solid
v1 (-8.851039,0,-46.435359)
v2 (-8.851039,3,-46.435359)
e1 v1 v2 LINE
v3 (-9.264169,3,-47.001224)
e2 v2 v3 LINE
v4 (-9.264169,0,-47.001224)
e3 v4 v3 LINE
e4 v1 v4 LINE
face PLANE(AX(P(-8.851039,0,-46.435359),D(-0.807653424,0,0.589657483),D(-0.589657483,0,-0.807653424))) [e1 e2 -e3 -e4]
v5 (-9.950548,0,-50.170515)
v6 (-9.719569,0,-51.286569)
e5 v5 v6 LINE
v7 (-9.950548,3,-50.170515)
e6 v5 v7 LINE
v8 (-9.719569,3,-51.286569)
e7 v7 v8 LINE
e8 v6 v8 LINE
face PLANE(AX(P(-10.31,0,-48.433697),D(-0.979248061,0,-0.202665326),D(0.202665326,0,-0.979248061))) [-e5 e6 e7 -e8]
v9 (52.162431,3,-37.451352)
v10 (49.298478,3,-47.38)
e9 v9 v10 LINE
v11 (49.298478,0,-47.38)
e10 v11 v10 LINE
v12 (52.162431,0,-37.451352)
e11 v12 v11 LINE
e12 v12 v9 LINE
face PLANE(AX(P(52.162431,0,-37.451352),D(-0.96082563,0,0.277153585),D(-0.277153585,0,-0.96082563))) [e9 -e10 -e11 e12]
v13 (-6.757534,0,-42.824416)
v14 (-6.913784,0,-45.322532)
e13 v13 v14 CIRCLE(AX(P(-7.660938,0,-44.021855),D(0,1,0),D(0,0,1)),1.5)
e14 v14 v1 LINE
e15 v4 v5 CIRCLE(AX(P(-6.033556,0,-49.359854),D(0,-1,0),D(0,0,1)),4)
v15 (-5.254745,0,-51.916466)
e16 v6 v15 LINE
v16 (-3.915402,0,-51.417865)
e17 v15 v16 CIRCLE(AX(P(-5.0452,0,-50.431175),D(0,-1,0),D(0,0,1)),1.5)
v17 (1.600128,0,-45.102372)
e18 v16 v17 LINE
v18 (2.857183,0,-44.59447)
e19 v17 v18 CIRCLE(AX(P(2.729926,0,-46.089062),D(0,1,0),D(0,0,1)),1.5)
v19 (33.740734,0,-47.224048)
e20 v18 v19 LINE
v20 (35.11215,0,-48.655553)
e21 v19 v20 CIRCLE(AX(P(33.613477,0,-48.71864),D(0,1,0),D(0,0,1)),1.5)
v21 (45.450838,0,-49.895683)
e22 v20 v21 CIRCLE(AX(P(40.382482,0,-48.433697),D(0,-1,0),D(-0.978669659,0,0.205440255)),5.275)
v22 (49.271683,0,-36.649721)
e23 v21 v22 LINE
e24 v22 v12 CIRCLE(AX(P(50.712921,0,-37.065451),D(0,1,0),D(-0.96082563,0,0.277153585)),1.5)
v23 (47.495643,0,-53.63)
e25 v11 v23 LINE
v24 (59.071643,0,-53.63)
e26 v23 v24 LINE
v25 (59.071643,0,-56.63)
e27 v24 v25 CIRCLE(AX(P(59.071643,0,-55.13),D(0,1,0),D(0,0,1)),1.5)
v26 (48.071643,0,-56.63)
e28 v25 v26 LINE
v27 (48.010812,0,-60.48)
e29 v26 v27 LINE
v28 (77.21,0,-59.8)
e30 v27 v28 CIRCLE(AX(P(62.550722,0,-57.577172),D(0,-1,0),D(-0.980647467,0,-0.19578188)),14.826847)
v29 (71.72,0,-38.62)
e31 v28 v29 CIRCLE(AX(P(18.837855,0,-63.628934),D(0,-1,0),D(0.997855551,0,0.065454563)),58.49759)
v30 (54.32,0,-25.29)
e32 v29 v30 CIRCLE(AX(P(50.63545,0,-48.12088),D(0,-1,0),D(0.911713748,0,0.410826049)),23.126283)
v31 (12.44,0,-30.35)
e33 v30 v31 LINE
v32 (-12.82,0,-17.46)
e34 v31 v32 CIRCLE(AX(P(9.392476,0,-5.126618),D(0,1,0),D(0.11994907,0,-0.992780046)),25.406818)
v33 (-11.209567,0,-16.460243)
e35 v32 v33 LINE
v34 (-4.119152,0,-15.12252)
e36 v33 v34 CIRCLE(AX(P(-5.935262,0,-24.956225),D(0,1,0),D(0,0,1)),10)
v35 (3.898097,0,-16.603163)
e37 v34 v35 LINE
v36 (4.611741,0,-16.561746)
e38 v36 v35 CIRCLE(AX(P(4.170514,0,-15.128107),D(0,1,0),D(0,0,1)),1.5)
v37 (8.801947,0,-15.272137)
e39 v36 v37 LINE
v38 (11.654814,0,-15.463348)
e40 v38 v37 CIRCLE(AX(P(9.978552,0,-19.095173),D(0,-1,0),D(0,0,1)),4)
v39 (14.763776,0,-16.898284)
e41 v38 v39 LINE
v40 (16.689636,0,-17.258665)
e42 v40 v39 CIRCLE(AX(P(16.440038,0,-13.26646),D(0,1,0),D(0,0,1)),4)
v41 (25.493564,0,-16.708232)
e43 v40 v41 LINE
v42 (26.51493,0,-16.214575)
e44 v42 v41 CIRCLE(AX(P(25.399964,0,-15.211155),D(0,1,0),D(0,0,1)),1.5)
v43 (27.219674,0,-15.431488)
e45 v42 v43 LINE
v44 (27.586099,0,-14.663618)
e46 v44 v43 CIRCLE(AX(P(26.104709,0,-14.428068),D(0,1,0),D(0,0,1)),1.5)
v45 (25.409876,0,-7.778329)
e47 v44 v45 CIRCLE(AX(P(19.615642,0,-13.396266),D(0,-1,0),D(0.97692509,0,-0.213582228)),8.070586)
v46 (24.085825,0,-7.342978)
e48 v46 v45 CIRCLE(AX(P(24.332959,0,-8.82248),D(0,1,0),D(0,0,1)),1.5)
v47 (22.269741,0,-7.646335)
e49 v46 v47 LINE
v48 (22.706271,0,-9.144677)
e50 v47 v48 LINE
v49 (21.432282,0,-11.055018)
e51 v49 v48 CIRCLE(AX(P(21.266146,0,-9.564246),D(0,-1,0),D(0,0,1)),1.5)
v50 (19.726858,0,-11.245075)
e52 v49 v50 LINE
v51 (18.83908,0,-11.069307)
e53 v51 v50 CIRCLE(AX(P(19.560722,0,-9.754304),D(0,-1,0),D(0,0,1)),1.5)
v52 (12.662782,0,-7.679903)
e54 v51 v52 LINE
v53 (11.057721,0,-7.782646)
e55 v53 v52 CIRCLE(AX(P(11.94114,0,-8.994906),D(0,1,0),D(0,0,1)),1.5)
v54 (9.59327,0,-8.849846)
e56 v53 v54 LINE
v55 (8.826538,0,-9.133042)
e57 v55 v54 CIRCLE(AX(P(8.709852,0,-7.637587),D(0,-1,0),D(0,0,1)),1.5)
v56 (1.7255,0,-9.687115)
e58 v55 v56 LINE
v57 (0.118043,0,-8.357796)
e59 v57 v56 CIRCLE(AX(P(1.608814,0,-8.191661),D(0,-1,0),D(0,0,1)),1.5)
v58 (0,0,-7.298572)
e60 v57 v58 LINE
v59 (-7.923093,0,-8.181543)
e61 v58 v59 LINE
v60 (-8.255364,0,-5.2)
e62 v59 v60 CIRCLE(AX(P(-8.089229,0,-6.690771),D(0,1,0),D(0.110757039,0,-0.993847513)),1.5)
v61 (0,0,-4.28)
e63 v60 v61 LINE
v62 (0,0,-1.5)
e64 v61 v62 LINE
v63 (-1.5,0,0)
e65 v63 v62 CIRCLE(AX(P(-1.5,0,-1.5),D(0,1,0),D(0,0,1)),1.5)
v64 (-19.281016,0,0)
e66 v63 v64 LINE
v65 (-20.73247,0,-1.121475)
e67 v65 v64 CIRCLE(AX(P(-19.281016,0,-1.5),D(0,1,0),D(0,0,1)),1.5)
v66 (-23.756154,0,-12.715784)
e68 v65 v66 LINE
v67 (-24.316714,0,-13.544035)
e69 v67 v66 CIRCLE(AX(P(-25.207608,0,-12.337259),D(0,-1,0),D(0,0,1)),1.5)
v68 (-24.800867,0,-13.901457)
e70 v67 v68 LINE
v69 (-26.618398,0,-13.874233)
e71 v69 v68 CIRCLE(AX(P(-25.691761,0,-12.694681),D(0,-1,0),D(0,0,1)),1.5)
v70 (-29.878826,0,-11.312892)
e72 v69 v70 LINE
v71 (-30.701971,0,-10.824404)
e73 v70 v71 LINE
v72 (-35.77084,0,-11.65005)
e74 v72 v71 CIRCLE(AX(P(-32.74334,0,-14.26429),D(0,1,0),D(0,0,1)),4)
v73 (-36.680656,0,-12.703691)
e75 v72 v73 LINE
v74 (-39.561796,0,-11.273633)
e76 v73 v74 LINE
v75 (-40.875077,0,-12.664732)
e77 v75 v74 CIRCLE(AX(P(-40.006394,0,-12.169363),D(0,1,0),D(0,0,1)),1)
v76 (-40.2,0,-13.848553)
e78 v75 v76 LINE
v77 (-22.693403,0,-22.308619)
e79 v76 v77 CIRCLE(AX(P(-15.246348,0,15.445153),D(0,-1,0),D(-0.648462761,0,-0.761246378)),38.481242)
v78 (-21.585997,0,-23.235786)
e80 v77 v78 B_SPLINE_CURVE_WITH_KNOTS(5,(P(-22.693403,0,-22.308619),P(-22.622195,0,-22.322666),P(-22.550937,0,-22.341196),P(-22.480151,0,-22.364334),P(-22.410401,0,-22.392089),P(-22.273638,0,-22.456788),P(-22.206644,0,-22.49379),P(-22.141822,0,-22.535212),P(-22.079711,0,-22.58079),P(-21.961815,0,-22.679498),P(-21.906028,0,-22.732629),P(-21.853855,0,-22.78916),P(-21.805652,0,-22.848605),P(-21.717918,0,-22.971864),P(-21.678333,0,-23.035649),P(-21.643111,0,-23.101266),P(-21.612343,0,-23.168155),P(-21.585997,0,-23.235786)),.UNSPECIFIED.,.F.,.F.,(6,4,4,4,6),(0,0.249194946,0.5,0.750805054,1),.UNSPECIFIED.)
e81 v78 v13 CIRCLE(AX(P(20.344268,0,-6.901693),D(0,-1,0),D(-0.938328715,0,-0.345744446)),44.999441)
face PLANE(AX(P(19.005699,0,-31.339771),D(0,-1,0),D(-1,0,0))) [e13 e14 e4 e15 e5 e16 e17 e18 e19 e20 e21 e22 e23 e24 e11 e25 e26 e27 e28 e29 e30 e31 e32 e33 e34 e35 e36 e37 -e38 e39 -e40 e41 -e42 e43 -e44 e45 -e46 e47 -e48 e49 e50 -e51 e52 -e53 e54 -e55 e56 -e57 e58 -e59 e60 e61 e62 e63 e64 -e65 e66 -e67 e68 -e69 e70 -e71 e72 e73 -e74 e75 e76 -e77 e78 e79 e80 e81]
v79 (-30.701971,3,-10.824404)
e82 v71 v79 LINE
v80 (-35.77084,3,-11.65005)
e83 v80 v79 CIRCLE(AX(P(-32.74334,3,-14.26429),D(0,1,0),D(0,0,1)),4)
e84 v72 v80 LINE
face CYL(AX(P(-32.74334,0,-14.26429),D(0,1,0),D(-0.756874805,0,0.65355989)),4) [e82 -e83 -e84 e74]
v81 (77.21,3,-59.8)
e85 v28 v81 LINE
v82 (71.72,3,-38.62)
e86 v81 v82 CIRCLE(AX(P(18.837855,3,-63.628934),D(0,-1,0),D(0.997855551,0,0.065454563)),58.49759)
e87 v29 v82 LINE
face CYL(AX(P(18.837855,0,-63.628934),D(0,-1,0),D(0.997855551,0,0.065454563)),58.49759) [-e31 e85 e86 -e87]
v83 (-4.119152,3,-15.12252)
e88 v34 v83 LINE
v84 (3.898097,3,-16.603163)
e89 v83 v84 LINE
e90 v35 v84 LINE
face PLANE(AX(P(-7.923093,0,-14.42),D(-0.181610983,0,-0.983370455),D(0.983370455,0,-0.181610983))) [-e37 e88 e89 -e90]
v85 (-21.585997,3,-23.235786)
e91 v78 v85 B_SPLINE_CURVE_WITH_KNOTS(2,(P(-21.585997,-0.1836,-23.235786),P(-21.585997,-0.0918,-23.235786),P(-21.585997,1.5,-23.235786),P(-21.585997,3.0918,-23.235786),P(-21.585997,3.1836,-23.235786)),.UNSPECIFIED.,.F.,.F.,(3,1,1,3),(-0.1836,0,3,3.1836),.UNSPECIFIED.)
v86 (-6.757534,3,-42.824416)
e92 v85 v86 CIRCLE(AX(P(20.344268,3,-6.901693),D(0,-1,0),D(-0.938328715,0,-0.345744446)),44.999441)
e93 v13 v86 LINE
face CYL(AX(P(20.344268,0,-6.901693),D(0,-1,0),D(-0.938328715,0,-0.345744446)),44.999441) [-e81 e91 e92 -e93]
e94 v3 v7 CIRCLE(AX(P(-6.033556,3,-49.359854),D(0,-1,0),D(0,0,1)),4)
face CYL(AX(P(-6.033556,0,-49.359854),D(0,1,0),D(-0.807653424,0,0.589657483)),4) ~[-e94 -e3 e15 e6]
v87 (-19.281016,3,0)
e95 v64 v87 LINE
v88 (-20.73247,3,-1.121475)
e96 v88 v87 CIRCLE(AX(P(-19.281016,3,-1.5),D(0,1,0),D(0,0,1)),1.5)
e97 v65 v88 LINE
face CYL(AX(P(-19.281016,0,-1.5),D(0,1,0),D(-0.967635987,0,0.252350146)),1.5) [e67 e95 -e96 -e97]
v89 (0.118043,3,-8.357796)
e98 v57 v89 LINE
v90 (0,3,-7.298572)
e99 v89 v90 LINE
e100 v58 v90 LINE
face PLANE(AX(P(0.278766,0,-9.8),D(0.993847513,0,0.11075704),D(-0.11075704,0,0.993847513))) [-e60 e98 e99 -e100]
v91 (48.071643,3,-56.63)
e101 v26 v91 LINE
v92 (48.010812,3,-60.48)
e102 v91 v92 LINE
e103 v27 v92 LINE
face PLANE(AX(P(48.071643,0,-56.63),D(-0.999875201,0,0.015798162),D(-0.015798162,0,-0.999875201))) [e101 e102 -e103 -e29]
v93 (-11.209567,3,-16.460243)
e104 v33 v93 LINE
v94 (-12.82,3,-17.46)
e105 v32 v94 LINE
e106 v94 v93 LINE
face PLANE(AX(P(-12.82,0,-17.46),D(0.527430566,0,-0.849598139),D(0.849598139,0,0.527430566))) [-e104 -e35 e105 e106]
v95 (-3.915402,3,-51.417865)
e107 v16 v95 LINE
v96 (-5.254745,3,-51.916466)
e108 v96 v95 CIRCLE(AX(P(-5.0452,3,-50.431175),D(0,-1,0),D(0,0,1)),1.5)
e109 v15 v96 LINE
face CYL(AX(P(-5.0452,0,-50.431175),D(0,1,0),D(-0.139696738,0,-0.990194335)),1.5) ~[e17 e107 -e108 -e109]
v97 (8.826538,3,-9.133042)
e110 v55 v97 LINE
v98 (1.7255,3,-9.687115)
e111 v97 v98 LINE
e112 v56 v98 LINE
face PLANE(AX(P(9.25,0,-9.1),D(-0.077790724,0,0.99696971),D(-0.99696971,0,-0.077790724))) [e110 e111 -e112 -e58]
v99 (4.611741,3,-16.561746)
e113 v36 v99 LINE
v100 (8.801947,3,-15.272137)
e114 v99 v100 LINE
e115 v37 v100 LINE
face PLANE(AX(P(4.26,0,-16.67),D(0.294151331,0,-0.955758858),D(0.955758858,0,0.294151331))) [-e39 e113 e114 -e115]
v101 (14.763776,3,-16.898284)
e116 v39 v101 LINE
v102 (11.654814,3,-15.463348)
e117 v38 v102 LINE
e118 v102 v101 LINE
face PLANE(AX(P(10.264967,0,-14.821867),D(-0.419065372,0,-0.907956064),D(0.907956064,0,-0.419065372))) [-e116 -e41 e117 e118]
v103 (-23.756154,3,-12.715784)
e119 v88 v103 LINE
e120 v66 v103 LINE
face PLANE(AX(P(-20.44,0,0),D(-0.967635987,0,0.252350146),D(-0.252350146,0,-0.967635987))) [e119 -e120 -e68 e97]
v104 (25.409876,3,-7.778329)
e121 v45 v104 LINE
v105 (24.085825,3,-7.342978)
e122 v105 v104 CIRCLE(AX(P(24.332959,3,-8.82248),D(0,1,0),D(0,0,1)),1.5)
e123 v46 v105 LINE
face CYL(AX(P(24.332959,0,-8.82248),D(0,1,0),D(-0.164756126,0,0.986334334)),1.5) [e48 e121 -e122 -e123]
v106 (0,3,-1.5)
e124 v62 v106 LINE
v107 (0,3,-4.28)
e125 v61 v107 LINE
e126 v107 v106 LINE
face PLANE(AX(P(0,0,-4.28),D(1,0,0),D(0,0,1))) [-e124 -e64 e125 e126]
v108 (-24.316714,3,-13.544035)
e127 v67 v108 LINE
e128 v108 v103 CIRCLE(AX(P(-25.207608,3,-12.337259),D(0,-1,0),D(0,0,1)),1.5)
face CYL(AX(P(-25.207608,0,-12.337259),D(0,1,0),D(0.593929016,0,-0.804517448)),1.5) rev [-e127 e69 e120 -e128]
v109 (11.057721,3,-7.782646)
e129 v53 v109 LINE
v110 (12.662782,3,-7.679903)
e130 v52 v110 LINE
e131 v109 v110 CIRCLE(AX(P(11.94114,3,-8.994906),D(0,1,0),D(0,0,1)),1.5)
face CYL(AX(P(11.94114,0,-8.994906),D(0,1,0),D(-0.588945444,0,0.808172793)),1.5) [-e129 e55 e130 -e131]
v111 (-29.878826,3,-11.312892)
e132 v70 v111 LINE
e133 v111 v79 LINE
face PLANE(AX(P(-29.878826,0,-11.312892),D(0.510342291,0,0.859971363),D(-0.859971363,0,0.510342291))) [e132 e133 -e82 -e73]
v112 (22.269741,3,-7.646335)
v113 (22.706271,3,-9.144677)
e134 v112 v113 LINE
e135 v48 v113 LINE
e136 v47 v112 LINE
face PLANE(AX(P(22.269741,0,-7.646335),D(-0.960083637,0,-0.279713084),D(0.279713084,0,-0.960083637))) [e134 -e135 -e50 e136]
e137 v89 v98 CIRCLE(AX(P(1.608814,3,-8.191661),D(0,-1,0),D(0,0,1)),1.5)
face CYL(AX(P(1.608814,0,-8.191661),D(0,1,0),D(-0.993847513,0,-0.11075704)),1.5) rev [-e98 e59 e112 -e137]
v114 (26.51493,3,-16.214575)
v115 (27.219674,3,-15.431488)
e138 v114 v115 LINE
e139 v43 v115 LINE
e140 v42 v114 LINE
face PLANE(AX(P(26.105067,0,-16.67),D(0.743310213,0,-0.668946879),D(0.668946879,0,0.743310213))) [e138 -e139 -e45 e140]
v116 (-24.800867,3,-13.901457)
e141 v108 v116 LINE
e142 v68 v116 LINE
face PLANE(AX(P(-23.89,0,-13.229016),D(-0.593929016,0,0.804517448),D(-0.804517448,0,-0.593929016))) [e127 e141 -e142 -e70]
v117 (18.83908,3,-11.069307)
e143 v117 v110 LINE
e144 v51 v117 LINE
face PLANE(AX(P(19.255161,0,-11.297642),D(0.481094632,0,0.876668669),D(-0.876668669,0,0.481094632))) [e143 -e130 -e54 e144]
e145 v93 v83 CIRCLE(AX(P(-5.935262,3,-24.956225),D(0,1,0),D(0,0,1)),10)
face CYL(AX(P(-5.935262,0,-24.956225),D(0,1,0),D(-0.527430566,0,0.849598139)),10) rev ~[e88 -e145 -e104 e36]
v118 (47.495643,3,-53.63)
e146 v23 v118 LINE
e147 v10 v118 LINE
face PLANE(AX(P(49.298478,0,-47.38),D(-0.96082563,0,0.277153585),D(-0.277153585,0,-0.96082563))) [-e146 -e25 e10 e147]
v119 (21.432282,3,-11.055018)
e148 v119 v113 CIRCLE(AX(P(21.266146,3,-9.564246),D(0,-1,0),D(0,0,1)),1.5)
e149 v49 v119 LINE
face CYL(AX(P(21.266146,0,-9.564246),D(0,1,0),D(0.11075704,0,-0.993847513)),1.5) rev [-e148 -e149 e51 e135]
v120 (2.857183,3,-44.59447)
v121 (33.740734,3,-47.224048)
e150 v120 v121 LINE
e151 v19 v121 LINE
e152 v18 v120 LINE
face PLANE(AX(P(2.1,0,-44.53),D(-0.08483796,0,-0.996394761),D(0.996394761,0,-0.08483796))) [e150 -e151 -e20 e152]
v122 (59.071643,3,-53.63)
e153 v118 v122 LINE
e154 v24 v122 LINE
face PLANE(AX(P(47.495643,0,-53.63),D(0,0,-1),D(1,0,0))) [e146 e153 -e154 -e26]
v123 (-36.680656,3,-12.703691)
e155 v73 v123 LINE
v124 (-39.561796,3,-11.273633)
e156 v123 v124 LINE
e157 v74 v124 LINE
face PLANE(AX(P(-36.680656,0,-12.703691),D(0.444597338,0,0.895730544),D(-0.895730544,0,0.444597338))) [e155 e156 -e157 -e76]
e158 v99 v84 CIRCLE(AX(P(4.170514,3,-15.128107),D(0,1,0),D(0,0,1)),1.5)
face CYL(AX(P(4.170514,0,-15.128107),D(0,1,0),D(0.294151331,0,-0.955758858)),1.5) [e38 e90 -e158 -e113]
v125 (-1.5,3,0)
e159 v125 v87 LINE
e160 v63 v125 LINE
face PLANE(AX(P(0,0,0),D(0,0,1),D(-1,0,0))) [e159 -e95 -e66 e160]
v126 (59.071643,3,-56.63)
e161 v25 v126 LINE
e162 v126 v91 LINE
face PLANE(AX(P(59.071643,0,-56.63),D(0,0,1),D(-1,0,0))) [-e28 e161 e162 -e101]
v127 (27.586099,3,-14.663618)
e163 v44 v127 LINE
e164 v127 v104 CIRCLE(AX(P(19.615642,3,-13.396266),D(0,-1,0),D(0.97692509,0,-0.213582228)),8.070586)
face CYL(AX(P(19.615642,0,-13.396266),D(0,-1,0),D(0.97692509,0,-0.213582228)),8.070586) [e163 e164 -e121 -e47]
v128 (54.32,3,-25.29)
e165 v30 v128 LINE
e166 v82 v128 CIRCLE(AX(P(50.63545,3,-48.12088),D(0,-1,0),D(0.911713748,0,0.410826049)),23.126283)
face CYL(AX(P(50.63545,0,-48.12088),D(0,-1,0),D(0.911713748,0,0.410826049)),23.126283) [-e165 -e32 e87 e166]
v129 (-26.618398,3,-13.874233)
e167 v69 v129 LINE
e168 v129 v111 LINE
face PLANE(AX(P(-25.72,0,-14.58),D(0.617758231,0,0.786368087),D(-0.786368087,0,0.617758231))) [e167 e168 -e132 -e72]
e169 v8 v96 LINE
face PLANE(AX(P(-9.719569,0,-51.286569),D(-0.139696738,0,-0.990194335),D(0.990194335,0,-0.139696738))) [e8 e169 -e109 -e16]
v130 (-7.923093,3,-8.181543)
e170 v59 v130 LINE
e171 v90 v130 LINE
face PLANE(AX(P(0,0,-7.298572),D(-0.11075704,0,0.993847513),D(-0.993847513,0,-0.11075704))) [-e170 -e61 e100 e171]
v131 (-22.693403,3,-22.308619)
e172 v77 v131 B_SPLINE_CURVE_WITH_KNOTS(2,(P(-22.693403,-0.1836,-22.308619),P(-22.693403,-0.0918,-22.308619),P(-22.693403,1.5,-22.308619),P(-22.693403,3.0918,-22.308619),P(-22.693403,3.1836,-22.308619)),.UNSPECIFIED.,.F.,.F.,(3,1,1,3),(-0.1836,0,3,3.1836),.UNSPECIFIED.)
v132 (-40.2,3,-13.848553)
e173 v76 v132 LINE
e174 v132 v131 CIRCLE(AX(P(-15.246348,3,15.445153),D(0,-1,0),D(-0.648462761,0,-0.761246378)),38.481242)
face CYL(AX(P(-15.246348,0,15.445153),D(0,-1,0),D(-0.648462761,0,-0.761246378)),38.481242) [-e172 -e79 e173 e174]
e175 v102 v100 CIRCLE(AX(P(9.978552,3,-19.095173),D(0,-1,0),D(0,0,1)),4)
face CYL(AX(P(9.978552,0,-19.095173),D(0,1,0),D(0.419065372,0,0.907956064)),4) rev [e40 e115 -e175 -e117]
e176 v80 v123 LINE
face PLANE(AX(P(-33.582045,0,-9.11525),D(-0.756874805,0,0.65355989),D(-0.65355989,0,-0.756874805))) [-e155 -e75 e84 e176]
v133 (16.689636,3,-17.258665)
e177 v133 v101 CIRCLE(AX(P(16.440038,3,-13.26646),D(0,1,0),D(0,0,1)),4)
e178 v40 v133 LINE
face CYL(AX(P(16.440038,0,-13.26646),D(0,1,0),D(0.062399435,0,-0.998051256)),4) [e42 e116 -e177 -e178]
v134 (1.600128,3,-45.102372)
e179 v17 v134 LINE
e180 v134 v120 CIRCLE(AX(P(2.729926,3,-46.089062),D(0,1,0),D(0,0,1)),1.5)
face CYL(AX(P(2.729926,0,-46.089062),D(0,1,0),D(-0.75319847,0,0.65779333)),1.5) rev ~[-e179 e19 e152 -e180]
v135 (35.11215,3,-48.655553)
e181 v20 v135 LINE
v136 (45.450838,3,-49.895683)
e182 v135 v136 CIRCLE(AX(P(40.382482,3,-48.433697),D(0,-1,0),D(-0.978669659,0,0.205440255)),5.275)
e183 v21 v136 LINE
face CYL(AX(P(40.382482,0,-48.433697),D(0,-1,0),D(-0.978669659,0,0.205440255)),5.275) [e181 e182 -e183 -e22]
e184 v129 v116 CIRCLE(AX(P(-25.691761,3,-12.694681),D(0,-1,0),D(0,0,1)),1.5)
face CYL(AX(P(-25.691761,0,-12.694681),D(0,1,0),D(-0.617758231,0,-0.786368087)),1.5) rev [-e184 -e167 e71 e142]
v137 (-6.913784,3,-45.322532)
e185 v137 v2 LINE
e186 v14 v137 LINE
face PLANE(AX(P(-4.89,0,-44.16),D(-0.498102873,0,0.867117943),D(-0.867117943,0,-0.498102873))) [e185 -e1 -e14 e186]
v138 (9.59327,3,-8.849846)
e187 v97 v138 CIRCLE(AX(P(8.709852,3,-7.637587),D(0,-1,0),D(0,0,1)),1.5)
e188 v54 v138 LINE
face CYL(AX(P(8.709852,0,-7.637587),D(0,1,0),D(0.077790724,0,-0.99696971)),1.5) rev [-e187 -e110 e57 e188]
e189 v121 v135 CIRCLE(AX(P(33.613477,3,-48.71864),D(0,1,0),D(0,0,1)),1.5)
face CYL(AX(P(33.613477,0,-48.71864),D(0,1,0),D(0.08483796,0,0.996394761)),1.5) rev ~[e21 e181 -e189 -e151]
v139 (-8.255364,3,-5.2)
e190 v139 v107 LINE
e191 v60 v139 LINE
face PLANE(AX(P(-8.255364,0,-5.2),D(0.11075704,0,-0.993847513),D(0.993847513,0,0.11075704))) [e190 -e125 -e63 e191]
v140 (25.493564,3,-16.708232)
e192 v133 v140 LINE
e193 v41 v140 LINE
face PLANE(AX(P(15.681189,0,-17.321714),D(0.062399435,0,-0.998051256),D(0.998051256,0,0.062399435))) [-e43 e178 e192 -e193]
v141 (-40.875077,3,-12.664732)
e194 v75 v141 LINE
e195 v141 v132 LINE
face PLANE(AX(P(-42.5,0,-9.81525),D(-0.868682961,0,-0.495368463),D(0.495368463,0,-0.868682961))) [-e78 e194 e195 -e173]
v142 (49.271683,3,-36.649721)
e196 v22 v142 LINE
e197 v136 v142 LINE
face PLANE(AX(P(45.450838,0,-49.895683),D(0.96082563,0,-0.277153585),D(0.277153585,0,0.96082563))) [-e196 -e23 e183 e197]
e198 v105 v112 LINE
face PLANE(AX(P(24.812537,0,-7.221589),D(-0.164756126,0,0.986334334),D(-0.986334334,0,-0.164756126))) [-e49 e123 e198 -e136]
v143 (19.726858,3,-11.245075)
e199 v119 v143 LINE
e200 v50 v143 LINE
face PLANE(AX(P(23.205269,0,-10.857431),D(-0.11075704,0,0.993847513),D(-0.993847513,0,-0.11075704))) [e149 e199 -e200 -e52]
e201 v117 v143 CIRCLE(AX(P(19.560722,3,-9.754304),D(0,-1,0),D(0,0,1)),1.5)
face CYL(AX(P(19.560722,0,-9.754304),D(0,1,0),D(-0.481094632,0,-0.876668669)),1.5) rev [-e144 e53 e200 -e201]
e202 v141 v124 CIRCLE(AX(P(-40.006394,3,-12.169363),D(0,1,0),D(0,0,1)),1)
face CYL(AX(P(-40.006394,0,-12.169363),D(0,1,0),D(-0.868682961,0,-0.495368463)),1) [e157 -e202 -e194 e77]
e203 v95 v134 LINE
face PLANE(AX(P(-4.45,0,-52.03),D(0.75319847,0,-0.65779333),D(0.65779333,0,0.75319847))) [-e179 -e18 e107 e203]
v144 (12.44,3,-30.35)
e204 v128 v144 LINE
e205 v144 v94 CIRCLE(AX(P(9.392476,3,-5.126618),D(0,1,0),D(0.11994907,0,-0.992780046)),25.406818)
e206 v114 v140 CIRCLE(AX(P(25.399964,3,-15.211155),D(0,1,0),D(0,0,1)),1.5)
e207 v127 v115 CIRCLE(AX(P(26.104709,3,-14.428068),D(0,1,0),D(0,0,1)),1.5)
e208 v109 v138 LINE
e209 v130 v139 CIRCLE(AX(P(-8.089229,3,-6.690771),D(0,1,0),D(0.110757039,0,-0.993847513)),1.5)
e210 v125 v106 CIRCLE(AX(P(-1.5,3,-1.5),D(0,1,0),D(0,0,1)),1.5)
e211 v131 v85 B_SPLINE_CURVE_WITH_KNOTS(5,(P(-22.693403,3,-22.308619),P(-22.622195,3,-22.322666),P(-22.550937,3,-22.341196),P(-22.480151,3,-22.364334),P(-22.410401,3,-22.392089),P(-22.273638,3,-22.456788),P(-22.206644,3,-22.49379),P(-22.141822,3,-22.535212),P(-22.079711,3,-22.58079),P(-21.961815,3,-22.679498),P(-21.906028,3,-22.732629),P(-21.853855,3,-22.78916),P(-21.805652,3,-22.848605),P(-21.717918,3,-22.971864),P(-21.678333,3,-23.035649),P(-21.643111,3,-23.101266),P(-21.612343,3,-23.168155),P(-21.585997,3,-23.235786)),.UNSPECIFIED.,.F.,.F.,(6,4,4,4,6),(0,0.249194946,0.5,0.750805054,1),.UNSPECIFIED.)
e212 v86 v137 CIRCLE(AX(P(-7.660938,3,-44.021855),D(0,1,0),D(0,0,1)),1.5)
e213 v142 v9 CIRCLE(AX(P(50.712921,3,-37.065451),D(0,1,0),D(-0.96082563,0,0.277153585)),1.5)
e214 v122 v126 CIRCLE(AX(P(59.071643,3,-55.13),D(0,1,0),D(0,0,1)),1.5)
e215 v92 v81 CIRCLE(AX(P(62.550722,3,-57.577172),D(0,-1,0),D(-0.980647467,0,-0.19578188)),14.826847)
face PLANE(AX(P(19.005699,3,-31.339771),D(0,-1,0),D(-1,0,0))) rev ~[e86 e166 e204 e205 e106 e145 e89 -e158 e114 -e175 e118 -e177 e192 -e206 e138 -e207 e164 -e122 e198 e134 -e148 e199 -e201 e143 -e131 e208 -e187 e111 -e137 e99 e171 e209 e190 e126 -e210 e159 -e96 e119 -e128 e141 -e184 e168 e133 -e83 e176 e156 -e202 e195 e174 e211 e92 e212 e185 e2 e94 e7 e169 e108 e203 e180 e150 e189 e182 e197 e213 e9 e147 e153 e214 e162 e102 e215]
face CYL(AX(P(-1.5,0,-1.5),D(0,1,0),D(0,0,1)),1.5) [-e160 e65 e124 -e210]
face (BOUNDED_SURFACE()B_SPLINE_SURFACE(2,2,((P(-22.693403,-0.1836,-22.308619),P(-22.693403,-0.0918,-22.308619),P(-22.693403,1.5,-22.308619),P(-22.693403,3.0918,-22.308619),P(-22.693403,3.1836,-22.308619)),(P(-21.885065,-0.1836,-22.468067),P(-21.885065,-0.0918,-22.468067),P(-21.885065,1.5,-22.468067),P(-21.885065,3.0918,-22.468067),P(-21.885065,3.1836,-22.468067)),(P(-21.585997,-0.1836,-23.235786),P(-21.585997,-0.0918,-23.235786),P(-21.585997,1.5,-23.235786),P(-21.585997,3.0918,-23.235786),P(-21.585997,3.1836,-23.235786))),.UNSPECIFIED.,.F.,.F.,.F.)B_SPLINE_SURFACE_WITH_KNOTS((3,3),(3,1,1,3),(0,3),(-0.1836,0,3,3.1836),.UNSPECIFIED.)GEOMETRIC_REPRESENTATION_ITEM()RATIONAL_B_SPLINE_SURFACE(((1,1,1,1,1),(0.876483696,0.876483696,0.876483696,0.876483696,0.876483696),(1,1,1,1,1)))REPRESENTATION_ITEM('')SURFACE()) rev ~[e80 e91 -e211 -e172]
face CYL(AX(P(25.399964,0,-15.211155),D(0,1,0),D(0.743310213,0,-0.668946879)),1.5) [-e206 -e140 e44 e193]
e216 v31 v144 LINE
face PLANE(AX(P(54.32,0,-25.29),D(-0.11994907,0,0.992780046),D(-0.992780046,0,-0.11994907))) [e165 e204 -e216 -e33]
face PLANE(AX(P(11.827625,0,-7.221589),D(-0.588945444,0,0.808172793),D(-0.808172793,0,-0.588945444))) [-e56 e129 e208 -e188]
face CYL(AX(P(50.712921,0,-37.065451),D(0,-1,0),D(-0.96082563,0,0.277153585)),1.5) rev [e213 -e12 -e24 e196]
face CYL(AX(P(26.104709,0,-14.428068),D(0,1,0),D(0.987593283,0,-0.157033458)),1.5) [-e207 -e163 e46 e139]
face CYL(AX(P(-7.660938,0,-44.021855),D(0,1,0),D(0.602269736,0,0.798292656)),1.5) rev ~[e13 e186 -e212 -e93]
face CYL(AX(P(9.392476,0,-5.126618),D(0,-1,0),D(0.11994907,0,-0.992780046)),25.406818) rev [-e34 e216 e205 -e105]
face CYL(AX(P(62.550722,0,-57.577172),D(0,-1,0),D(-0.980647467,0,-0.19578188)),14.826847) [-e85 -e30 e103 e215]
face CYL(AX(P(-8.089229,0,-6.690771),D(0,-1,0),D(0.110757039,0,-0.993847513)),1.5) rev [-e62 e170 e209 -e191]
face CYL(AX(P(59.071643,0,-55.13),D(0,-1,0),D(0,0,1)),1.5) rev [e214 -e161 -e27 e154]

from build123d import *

# Parameters (mm, degrees)
BOSS_EXTRUDE1_DEPTH = 3
FILLET1_R           = 10
FILLET2_R           = 1
FILLET3_R           = 1.5
FILLET4_R           = 4
FILLET5_R           = 4


with BuildPart() as part:
    # Sketch2 → Boss-Extrude1 (new body)
    with BuildSketch(Plane(origin=(0, 0, 0), x_dir=(1, 0, 0), z_dir=(0, 1, 0))):
        with BuildLine():
            Line((-42.5, 9.815250458), (-40.2, 13.848552856))
            ThreePointArc((-40.2, 13.848552856), (-31.616402931, 19.380516515), (-21.88, 22.46))
            ThreePointArc((-21.88, 22.46), (-15.087159026, 34.642704233), (-4.89, 44.16))
            Line((-4.89, 44.16), (-8.851038754, 46.435359195))
            Line((-8.851038754, 46.435359195), (-10.31, 48.433697347))
            Line((-10.31, 48.433697347), (-9.719569356, 51.28656851))
            Line((-9.719569356, 51.28656851), (-4.45, 52.03))
            Line((-4.45, 52.03), (2.1, 44.53))
            Line((2.1, 44.53), (35.22, 47.35))
            ThreePointArc((35.22, 47.35), (39.1087714, 53.552611798), (45.450837647, 49.895682508))
            Line((45.450837647, 49.895682508), (49.271682555, 36.649721013))
            ThreePointArc((49.271682555, 36.649721013), (51.113757972, 35.62), (52.162431436, 37.451352279))
            Line((52.162431436, 37.451352279), (49.298477535, 47.38))
            Line((49.298477535, 47.38), (47.49564271, 53.63))
            Line((47.49564271, 53.63), (59.07164271, 53.63))
            ThreePointArc((59.07164271, 53.63), (60.57164271, 55.13), (59.07164271, 56.63))
            Line((59.07164271, 56.63), (48.07164271, 56.63))
            Line((48.07164271, 56.63), (48.010812194, 60.48))
            ThreePointArc((48.010812194, 60.48), (62.895920888, 72.4), (77.21, 59.8))
            ThreePointArc((77.21, 59.8), (75.464062366, 48.951036242), (71.72, 38.62))
            ThreePointArc((71.72, 38.62), (64.699564013, 29.762620869), (54.32, 25.29))
            Line((54.32, 25.29), (12.44, 30.35))
            ThreePointArc((12.44, 30.35), (-2.155765073, 27.757228529), (-12.82, 17.46))
            Line((-12.82, 17.46), (-7.923093172, 14.42))
            Line((-7.923093172, 14.42), (4.26, 16.67))
            Line((4.26, 16.67), (10.264967392, 14.82186735))
            Line((10.264967392, 14.82186735), (15.68118928, 17.321714129))
            Line((15.68118928, 17.321714129), (26.105067381, 16.67))
            Line((26.105067381, 16.67), (27.5, 15.12))
            ThreePointArc((27.5, 15.12), (27.256062178, 10.796585791), (24.812537217, 7.22158903))
            Line((24.812537217, 7.22158903), (22.269740859, 7.646334739))
            Line((22.269740859, 7.646334739), (23.205269456, 10.857431213))
            Line((23.205269456, 10.857431213), (19.255161489, 11.297641869))
            Line((19.255161489, 11.297641869), (11.827625236, 7.22158903))
            Line((11.827625236, 7.22158903), (9.25, 9.1))
            Line((9.25, 9.1), (0.278765895, 9.8))
            Line((0.278765895, 9.8), (0, 7.298571725))
            Line((0, 7.298571725), (-7.923093172, 8.181542538))
            ThreePointArc((-7.923093172, 8.181542538), (-9.58, 6.856906829), (-8.255364291, 5.2))
            Line((-8.255364291, 5.2), (0, 4.28))
            Line((0, 4.28), (0, 0))
            Line((0, 0), (-20.44, 0))
            Line((-20.44, 0), (-23.89, 13.229016126))
            Line((-23.89, 13.229016126), (-25.72, 14.58))
            Line((-25.72, 14.58), (-29.87882635, 11.312892327))
            Line((-29.87882635, 11.312892327), (-33.582044966, 9.115250458))
            Line((-33.582044966, 9.115250458), (-36.680656461, 12.703691255))
            Line((-36.680656461, 12.703691255), (-42.5, 9.815250458))
        make_face()
    extrude(amount=BOSS_EXTRUDE1_DEPTH)

    # Fillet1
    fillet1_edges = [part.edges().sort_by_distance(p)[0] for p in [
        (-7.923093172, 1.5, -14.42),
    ]]
    fillet(fillet1_edges, radius=FILLET1_R)

    # Fillet2
    fillet2_edges = [part.edges().sort_by_distance(p)[0] for p in [
        (-42.5, 1.5, -9.815250458),
    ]]
    fillet(fillet2_edges, radius=FILLET2_R)

    # Fillet3
    fillet3_edges = [part.edges().sort_by_distance(p)[0] for p in [
        (4.26, 1.5, -16.67),
        (26.105067381, 1.5, -16.67),
        (27.5, 1.5, -15.12),
        (24.812537217, 1.5, -7.22158903),
        (23.205269456, 1.5, -10.857431213),
        (19.255161489, 1.5, -11.297641869),
        (11.827625236, 1.5, -7.22158903),
        (9.25, 1.5, -9.1),
        (0.278765895, 1.5, -9.8),
        (0, 1.5, 0),
        (-20.44, 1.5, 0),
        (-23.89, 1.5, -13.229016126),
        (-25.72, 1.5, -14.58),
        (-21.88, 1.5, -22.46),
        (-4.89, 1.5, -44.16),
        (-4.45, 1.5, -52.03),
        (2.1, 1.5, -44.53),
        (35.22, 1.5, -47.35),
    ]]
    fillet(fillet3_edges, radius=FILLET3_R)

    # Fillet4
    fillet4_edges = [part.edges().sort_by_distance(p)[0] for p in [
        (-33.582044966, 1.5, -9.115250458),
        (-10.31, 1.5, -48.433697347),
    ]]
    fillet(fillet4_edges, radius=FILLET4_R)

    # Fillet5
    fillet5_edges = [part.edges().sort_by_distance(p)[0] for p in [
        (10.264967392, 1.5, -14.82186735),
        (15.68118928, 1.5, -17.321714129),
    ]]
    fillet(fillet5_edges, radius=FILLET5_R)


solid = part.part
